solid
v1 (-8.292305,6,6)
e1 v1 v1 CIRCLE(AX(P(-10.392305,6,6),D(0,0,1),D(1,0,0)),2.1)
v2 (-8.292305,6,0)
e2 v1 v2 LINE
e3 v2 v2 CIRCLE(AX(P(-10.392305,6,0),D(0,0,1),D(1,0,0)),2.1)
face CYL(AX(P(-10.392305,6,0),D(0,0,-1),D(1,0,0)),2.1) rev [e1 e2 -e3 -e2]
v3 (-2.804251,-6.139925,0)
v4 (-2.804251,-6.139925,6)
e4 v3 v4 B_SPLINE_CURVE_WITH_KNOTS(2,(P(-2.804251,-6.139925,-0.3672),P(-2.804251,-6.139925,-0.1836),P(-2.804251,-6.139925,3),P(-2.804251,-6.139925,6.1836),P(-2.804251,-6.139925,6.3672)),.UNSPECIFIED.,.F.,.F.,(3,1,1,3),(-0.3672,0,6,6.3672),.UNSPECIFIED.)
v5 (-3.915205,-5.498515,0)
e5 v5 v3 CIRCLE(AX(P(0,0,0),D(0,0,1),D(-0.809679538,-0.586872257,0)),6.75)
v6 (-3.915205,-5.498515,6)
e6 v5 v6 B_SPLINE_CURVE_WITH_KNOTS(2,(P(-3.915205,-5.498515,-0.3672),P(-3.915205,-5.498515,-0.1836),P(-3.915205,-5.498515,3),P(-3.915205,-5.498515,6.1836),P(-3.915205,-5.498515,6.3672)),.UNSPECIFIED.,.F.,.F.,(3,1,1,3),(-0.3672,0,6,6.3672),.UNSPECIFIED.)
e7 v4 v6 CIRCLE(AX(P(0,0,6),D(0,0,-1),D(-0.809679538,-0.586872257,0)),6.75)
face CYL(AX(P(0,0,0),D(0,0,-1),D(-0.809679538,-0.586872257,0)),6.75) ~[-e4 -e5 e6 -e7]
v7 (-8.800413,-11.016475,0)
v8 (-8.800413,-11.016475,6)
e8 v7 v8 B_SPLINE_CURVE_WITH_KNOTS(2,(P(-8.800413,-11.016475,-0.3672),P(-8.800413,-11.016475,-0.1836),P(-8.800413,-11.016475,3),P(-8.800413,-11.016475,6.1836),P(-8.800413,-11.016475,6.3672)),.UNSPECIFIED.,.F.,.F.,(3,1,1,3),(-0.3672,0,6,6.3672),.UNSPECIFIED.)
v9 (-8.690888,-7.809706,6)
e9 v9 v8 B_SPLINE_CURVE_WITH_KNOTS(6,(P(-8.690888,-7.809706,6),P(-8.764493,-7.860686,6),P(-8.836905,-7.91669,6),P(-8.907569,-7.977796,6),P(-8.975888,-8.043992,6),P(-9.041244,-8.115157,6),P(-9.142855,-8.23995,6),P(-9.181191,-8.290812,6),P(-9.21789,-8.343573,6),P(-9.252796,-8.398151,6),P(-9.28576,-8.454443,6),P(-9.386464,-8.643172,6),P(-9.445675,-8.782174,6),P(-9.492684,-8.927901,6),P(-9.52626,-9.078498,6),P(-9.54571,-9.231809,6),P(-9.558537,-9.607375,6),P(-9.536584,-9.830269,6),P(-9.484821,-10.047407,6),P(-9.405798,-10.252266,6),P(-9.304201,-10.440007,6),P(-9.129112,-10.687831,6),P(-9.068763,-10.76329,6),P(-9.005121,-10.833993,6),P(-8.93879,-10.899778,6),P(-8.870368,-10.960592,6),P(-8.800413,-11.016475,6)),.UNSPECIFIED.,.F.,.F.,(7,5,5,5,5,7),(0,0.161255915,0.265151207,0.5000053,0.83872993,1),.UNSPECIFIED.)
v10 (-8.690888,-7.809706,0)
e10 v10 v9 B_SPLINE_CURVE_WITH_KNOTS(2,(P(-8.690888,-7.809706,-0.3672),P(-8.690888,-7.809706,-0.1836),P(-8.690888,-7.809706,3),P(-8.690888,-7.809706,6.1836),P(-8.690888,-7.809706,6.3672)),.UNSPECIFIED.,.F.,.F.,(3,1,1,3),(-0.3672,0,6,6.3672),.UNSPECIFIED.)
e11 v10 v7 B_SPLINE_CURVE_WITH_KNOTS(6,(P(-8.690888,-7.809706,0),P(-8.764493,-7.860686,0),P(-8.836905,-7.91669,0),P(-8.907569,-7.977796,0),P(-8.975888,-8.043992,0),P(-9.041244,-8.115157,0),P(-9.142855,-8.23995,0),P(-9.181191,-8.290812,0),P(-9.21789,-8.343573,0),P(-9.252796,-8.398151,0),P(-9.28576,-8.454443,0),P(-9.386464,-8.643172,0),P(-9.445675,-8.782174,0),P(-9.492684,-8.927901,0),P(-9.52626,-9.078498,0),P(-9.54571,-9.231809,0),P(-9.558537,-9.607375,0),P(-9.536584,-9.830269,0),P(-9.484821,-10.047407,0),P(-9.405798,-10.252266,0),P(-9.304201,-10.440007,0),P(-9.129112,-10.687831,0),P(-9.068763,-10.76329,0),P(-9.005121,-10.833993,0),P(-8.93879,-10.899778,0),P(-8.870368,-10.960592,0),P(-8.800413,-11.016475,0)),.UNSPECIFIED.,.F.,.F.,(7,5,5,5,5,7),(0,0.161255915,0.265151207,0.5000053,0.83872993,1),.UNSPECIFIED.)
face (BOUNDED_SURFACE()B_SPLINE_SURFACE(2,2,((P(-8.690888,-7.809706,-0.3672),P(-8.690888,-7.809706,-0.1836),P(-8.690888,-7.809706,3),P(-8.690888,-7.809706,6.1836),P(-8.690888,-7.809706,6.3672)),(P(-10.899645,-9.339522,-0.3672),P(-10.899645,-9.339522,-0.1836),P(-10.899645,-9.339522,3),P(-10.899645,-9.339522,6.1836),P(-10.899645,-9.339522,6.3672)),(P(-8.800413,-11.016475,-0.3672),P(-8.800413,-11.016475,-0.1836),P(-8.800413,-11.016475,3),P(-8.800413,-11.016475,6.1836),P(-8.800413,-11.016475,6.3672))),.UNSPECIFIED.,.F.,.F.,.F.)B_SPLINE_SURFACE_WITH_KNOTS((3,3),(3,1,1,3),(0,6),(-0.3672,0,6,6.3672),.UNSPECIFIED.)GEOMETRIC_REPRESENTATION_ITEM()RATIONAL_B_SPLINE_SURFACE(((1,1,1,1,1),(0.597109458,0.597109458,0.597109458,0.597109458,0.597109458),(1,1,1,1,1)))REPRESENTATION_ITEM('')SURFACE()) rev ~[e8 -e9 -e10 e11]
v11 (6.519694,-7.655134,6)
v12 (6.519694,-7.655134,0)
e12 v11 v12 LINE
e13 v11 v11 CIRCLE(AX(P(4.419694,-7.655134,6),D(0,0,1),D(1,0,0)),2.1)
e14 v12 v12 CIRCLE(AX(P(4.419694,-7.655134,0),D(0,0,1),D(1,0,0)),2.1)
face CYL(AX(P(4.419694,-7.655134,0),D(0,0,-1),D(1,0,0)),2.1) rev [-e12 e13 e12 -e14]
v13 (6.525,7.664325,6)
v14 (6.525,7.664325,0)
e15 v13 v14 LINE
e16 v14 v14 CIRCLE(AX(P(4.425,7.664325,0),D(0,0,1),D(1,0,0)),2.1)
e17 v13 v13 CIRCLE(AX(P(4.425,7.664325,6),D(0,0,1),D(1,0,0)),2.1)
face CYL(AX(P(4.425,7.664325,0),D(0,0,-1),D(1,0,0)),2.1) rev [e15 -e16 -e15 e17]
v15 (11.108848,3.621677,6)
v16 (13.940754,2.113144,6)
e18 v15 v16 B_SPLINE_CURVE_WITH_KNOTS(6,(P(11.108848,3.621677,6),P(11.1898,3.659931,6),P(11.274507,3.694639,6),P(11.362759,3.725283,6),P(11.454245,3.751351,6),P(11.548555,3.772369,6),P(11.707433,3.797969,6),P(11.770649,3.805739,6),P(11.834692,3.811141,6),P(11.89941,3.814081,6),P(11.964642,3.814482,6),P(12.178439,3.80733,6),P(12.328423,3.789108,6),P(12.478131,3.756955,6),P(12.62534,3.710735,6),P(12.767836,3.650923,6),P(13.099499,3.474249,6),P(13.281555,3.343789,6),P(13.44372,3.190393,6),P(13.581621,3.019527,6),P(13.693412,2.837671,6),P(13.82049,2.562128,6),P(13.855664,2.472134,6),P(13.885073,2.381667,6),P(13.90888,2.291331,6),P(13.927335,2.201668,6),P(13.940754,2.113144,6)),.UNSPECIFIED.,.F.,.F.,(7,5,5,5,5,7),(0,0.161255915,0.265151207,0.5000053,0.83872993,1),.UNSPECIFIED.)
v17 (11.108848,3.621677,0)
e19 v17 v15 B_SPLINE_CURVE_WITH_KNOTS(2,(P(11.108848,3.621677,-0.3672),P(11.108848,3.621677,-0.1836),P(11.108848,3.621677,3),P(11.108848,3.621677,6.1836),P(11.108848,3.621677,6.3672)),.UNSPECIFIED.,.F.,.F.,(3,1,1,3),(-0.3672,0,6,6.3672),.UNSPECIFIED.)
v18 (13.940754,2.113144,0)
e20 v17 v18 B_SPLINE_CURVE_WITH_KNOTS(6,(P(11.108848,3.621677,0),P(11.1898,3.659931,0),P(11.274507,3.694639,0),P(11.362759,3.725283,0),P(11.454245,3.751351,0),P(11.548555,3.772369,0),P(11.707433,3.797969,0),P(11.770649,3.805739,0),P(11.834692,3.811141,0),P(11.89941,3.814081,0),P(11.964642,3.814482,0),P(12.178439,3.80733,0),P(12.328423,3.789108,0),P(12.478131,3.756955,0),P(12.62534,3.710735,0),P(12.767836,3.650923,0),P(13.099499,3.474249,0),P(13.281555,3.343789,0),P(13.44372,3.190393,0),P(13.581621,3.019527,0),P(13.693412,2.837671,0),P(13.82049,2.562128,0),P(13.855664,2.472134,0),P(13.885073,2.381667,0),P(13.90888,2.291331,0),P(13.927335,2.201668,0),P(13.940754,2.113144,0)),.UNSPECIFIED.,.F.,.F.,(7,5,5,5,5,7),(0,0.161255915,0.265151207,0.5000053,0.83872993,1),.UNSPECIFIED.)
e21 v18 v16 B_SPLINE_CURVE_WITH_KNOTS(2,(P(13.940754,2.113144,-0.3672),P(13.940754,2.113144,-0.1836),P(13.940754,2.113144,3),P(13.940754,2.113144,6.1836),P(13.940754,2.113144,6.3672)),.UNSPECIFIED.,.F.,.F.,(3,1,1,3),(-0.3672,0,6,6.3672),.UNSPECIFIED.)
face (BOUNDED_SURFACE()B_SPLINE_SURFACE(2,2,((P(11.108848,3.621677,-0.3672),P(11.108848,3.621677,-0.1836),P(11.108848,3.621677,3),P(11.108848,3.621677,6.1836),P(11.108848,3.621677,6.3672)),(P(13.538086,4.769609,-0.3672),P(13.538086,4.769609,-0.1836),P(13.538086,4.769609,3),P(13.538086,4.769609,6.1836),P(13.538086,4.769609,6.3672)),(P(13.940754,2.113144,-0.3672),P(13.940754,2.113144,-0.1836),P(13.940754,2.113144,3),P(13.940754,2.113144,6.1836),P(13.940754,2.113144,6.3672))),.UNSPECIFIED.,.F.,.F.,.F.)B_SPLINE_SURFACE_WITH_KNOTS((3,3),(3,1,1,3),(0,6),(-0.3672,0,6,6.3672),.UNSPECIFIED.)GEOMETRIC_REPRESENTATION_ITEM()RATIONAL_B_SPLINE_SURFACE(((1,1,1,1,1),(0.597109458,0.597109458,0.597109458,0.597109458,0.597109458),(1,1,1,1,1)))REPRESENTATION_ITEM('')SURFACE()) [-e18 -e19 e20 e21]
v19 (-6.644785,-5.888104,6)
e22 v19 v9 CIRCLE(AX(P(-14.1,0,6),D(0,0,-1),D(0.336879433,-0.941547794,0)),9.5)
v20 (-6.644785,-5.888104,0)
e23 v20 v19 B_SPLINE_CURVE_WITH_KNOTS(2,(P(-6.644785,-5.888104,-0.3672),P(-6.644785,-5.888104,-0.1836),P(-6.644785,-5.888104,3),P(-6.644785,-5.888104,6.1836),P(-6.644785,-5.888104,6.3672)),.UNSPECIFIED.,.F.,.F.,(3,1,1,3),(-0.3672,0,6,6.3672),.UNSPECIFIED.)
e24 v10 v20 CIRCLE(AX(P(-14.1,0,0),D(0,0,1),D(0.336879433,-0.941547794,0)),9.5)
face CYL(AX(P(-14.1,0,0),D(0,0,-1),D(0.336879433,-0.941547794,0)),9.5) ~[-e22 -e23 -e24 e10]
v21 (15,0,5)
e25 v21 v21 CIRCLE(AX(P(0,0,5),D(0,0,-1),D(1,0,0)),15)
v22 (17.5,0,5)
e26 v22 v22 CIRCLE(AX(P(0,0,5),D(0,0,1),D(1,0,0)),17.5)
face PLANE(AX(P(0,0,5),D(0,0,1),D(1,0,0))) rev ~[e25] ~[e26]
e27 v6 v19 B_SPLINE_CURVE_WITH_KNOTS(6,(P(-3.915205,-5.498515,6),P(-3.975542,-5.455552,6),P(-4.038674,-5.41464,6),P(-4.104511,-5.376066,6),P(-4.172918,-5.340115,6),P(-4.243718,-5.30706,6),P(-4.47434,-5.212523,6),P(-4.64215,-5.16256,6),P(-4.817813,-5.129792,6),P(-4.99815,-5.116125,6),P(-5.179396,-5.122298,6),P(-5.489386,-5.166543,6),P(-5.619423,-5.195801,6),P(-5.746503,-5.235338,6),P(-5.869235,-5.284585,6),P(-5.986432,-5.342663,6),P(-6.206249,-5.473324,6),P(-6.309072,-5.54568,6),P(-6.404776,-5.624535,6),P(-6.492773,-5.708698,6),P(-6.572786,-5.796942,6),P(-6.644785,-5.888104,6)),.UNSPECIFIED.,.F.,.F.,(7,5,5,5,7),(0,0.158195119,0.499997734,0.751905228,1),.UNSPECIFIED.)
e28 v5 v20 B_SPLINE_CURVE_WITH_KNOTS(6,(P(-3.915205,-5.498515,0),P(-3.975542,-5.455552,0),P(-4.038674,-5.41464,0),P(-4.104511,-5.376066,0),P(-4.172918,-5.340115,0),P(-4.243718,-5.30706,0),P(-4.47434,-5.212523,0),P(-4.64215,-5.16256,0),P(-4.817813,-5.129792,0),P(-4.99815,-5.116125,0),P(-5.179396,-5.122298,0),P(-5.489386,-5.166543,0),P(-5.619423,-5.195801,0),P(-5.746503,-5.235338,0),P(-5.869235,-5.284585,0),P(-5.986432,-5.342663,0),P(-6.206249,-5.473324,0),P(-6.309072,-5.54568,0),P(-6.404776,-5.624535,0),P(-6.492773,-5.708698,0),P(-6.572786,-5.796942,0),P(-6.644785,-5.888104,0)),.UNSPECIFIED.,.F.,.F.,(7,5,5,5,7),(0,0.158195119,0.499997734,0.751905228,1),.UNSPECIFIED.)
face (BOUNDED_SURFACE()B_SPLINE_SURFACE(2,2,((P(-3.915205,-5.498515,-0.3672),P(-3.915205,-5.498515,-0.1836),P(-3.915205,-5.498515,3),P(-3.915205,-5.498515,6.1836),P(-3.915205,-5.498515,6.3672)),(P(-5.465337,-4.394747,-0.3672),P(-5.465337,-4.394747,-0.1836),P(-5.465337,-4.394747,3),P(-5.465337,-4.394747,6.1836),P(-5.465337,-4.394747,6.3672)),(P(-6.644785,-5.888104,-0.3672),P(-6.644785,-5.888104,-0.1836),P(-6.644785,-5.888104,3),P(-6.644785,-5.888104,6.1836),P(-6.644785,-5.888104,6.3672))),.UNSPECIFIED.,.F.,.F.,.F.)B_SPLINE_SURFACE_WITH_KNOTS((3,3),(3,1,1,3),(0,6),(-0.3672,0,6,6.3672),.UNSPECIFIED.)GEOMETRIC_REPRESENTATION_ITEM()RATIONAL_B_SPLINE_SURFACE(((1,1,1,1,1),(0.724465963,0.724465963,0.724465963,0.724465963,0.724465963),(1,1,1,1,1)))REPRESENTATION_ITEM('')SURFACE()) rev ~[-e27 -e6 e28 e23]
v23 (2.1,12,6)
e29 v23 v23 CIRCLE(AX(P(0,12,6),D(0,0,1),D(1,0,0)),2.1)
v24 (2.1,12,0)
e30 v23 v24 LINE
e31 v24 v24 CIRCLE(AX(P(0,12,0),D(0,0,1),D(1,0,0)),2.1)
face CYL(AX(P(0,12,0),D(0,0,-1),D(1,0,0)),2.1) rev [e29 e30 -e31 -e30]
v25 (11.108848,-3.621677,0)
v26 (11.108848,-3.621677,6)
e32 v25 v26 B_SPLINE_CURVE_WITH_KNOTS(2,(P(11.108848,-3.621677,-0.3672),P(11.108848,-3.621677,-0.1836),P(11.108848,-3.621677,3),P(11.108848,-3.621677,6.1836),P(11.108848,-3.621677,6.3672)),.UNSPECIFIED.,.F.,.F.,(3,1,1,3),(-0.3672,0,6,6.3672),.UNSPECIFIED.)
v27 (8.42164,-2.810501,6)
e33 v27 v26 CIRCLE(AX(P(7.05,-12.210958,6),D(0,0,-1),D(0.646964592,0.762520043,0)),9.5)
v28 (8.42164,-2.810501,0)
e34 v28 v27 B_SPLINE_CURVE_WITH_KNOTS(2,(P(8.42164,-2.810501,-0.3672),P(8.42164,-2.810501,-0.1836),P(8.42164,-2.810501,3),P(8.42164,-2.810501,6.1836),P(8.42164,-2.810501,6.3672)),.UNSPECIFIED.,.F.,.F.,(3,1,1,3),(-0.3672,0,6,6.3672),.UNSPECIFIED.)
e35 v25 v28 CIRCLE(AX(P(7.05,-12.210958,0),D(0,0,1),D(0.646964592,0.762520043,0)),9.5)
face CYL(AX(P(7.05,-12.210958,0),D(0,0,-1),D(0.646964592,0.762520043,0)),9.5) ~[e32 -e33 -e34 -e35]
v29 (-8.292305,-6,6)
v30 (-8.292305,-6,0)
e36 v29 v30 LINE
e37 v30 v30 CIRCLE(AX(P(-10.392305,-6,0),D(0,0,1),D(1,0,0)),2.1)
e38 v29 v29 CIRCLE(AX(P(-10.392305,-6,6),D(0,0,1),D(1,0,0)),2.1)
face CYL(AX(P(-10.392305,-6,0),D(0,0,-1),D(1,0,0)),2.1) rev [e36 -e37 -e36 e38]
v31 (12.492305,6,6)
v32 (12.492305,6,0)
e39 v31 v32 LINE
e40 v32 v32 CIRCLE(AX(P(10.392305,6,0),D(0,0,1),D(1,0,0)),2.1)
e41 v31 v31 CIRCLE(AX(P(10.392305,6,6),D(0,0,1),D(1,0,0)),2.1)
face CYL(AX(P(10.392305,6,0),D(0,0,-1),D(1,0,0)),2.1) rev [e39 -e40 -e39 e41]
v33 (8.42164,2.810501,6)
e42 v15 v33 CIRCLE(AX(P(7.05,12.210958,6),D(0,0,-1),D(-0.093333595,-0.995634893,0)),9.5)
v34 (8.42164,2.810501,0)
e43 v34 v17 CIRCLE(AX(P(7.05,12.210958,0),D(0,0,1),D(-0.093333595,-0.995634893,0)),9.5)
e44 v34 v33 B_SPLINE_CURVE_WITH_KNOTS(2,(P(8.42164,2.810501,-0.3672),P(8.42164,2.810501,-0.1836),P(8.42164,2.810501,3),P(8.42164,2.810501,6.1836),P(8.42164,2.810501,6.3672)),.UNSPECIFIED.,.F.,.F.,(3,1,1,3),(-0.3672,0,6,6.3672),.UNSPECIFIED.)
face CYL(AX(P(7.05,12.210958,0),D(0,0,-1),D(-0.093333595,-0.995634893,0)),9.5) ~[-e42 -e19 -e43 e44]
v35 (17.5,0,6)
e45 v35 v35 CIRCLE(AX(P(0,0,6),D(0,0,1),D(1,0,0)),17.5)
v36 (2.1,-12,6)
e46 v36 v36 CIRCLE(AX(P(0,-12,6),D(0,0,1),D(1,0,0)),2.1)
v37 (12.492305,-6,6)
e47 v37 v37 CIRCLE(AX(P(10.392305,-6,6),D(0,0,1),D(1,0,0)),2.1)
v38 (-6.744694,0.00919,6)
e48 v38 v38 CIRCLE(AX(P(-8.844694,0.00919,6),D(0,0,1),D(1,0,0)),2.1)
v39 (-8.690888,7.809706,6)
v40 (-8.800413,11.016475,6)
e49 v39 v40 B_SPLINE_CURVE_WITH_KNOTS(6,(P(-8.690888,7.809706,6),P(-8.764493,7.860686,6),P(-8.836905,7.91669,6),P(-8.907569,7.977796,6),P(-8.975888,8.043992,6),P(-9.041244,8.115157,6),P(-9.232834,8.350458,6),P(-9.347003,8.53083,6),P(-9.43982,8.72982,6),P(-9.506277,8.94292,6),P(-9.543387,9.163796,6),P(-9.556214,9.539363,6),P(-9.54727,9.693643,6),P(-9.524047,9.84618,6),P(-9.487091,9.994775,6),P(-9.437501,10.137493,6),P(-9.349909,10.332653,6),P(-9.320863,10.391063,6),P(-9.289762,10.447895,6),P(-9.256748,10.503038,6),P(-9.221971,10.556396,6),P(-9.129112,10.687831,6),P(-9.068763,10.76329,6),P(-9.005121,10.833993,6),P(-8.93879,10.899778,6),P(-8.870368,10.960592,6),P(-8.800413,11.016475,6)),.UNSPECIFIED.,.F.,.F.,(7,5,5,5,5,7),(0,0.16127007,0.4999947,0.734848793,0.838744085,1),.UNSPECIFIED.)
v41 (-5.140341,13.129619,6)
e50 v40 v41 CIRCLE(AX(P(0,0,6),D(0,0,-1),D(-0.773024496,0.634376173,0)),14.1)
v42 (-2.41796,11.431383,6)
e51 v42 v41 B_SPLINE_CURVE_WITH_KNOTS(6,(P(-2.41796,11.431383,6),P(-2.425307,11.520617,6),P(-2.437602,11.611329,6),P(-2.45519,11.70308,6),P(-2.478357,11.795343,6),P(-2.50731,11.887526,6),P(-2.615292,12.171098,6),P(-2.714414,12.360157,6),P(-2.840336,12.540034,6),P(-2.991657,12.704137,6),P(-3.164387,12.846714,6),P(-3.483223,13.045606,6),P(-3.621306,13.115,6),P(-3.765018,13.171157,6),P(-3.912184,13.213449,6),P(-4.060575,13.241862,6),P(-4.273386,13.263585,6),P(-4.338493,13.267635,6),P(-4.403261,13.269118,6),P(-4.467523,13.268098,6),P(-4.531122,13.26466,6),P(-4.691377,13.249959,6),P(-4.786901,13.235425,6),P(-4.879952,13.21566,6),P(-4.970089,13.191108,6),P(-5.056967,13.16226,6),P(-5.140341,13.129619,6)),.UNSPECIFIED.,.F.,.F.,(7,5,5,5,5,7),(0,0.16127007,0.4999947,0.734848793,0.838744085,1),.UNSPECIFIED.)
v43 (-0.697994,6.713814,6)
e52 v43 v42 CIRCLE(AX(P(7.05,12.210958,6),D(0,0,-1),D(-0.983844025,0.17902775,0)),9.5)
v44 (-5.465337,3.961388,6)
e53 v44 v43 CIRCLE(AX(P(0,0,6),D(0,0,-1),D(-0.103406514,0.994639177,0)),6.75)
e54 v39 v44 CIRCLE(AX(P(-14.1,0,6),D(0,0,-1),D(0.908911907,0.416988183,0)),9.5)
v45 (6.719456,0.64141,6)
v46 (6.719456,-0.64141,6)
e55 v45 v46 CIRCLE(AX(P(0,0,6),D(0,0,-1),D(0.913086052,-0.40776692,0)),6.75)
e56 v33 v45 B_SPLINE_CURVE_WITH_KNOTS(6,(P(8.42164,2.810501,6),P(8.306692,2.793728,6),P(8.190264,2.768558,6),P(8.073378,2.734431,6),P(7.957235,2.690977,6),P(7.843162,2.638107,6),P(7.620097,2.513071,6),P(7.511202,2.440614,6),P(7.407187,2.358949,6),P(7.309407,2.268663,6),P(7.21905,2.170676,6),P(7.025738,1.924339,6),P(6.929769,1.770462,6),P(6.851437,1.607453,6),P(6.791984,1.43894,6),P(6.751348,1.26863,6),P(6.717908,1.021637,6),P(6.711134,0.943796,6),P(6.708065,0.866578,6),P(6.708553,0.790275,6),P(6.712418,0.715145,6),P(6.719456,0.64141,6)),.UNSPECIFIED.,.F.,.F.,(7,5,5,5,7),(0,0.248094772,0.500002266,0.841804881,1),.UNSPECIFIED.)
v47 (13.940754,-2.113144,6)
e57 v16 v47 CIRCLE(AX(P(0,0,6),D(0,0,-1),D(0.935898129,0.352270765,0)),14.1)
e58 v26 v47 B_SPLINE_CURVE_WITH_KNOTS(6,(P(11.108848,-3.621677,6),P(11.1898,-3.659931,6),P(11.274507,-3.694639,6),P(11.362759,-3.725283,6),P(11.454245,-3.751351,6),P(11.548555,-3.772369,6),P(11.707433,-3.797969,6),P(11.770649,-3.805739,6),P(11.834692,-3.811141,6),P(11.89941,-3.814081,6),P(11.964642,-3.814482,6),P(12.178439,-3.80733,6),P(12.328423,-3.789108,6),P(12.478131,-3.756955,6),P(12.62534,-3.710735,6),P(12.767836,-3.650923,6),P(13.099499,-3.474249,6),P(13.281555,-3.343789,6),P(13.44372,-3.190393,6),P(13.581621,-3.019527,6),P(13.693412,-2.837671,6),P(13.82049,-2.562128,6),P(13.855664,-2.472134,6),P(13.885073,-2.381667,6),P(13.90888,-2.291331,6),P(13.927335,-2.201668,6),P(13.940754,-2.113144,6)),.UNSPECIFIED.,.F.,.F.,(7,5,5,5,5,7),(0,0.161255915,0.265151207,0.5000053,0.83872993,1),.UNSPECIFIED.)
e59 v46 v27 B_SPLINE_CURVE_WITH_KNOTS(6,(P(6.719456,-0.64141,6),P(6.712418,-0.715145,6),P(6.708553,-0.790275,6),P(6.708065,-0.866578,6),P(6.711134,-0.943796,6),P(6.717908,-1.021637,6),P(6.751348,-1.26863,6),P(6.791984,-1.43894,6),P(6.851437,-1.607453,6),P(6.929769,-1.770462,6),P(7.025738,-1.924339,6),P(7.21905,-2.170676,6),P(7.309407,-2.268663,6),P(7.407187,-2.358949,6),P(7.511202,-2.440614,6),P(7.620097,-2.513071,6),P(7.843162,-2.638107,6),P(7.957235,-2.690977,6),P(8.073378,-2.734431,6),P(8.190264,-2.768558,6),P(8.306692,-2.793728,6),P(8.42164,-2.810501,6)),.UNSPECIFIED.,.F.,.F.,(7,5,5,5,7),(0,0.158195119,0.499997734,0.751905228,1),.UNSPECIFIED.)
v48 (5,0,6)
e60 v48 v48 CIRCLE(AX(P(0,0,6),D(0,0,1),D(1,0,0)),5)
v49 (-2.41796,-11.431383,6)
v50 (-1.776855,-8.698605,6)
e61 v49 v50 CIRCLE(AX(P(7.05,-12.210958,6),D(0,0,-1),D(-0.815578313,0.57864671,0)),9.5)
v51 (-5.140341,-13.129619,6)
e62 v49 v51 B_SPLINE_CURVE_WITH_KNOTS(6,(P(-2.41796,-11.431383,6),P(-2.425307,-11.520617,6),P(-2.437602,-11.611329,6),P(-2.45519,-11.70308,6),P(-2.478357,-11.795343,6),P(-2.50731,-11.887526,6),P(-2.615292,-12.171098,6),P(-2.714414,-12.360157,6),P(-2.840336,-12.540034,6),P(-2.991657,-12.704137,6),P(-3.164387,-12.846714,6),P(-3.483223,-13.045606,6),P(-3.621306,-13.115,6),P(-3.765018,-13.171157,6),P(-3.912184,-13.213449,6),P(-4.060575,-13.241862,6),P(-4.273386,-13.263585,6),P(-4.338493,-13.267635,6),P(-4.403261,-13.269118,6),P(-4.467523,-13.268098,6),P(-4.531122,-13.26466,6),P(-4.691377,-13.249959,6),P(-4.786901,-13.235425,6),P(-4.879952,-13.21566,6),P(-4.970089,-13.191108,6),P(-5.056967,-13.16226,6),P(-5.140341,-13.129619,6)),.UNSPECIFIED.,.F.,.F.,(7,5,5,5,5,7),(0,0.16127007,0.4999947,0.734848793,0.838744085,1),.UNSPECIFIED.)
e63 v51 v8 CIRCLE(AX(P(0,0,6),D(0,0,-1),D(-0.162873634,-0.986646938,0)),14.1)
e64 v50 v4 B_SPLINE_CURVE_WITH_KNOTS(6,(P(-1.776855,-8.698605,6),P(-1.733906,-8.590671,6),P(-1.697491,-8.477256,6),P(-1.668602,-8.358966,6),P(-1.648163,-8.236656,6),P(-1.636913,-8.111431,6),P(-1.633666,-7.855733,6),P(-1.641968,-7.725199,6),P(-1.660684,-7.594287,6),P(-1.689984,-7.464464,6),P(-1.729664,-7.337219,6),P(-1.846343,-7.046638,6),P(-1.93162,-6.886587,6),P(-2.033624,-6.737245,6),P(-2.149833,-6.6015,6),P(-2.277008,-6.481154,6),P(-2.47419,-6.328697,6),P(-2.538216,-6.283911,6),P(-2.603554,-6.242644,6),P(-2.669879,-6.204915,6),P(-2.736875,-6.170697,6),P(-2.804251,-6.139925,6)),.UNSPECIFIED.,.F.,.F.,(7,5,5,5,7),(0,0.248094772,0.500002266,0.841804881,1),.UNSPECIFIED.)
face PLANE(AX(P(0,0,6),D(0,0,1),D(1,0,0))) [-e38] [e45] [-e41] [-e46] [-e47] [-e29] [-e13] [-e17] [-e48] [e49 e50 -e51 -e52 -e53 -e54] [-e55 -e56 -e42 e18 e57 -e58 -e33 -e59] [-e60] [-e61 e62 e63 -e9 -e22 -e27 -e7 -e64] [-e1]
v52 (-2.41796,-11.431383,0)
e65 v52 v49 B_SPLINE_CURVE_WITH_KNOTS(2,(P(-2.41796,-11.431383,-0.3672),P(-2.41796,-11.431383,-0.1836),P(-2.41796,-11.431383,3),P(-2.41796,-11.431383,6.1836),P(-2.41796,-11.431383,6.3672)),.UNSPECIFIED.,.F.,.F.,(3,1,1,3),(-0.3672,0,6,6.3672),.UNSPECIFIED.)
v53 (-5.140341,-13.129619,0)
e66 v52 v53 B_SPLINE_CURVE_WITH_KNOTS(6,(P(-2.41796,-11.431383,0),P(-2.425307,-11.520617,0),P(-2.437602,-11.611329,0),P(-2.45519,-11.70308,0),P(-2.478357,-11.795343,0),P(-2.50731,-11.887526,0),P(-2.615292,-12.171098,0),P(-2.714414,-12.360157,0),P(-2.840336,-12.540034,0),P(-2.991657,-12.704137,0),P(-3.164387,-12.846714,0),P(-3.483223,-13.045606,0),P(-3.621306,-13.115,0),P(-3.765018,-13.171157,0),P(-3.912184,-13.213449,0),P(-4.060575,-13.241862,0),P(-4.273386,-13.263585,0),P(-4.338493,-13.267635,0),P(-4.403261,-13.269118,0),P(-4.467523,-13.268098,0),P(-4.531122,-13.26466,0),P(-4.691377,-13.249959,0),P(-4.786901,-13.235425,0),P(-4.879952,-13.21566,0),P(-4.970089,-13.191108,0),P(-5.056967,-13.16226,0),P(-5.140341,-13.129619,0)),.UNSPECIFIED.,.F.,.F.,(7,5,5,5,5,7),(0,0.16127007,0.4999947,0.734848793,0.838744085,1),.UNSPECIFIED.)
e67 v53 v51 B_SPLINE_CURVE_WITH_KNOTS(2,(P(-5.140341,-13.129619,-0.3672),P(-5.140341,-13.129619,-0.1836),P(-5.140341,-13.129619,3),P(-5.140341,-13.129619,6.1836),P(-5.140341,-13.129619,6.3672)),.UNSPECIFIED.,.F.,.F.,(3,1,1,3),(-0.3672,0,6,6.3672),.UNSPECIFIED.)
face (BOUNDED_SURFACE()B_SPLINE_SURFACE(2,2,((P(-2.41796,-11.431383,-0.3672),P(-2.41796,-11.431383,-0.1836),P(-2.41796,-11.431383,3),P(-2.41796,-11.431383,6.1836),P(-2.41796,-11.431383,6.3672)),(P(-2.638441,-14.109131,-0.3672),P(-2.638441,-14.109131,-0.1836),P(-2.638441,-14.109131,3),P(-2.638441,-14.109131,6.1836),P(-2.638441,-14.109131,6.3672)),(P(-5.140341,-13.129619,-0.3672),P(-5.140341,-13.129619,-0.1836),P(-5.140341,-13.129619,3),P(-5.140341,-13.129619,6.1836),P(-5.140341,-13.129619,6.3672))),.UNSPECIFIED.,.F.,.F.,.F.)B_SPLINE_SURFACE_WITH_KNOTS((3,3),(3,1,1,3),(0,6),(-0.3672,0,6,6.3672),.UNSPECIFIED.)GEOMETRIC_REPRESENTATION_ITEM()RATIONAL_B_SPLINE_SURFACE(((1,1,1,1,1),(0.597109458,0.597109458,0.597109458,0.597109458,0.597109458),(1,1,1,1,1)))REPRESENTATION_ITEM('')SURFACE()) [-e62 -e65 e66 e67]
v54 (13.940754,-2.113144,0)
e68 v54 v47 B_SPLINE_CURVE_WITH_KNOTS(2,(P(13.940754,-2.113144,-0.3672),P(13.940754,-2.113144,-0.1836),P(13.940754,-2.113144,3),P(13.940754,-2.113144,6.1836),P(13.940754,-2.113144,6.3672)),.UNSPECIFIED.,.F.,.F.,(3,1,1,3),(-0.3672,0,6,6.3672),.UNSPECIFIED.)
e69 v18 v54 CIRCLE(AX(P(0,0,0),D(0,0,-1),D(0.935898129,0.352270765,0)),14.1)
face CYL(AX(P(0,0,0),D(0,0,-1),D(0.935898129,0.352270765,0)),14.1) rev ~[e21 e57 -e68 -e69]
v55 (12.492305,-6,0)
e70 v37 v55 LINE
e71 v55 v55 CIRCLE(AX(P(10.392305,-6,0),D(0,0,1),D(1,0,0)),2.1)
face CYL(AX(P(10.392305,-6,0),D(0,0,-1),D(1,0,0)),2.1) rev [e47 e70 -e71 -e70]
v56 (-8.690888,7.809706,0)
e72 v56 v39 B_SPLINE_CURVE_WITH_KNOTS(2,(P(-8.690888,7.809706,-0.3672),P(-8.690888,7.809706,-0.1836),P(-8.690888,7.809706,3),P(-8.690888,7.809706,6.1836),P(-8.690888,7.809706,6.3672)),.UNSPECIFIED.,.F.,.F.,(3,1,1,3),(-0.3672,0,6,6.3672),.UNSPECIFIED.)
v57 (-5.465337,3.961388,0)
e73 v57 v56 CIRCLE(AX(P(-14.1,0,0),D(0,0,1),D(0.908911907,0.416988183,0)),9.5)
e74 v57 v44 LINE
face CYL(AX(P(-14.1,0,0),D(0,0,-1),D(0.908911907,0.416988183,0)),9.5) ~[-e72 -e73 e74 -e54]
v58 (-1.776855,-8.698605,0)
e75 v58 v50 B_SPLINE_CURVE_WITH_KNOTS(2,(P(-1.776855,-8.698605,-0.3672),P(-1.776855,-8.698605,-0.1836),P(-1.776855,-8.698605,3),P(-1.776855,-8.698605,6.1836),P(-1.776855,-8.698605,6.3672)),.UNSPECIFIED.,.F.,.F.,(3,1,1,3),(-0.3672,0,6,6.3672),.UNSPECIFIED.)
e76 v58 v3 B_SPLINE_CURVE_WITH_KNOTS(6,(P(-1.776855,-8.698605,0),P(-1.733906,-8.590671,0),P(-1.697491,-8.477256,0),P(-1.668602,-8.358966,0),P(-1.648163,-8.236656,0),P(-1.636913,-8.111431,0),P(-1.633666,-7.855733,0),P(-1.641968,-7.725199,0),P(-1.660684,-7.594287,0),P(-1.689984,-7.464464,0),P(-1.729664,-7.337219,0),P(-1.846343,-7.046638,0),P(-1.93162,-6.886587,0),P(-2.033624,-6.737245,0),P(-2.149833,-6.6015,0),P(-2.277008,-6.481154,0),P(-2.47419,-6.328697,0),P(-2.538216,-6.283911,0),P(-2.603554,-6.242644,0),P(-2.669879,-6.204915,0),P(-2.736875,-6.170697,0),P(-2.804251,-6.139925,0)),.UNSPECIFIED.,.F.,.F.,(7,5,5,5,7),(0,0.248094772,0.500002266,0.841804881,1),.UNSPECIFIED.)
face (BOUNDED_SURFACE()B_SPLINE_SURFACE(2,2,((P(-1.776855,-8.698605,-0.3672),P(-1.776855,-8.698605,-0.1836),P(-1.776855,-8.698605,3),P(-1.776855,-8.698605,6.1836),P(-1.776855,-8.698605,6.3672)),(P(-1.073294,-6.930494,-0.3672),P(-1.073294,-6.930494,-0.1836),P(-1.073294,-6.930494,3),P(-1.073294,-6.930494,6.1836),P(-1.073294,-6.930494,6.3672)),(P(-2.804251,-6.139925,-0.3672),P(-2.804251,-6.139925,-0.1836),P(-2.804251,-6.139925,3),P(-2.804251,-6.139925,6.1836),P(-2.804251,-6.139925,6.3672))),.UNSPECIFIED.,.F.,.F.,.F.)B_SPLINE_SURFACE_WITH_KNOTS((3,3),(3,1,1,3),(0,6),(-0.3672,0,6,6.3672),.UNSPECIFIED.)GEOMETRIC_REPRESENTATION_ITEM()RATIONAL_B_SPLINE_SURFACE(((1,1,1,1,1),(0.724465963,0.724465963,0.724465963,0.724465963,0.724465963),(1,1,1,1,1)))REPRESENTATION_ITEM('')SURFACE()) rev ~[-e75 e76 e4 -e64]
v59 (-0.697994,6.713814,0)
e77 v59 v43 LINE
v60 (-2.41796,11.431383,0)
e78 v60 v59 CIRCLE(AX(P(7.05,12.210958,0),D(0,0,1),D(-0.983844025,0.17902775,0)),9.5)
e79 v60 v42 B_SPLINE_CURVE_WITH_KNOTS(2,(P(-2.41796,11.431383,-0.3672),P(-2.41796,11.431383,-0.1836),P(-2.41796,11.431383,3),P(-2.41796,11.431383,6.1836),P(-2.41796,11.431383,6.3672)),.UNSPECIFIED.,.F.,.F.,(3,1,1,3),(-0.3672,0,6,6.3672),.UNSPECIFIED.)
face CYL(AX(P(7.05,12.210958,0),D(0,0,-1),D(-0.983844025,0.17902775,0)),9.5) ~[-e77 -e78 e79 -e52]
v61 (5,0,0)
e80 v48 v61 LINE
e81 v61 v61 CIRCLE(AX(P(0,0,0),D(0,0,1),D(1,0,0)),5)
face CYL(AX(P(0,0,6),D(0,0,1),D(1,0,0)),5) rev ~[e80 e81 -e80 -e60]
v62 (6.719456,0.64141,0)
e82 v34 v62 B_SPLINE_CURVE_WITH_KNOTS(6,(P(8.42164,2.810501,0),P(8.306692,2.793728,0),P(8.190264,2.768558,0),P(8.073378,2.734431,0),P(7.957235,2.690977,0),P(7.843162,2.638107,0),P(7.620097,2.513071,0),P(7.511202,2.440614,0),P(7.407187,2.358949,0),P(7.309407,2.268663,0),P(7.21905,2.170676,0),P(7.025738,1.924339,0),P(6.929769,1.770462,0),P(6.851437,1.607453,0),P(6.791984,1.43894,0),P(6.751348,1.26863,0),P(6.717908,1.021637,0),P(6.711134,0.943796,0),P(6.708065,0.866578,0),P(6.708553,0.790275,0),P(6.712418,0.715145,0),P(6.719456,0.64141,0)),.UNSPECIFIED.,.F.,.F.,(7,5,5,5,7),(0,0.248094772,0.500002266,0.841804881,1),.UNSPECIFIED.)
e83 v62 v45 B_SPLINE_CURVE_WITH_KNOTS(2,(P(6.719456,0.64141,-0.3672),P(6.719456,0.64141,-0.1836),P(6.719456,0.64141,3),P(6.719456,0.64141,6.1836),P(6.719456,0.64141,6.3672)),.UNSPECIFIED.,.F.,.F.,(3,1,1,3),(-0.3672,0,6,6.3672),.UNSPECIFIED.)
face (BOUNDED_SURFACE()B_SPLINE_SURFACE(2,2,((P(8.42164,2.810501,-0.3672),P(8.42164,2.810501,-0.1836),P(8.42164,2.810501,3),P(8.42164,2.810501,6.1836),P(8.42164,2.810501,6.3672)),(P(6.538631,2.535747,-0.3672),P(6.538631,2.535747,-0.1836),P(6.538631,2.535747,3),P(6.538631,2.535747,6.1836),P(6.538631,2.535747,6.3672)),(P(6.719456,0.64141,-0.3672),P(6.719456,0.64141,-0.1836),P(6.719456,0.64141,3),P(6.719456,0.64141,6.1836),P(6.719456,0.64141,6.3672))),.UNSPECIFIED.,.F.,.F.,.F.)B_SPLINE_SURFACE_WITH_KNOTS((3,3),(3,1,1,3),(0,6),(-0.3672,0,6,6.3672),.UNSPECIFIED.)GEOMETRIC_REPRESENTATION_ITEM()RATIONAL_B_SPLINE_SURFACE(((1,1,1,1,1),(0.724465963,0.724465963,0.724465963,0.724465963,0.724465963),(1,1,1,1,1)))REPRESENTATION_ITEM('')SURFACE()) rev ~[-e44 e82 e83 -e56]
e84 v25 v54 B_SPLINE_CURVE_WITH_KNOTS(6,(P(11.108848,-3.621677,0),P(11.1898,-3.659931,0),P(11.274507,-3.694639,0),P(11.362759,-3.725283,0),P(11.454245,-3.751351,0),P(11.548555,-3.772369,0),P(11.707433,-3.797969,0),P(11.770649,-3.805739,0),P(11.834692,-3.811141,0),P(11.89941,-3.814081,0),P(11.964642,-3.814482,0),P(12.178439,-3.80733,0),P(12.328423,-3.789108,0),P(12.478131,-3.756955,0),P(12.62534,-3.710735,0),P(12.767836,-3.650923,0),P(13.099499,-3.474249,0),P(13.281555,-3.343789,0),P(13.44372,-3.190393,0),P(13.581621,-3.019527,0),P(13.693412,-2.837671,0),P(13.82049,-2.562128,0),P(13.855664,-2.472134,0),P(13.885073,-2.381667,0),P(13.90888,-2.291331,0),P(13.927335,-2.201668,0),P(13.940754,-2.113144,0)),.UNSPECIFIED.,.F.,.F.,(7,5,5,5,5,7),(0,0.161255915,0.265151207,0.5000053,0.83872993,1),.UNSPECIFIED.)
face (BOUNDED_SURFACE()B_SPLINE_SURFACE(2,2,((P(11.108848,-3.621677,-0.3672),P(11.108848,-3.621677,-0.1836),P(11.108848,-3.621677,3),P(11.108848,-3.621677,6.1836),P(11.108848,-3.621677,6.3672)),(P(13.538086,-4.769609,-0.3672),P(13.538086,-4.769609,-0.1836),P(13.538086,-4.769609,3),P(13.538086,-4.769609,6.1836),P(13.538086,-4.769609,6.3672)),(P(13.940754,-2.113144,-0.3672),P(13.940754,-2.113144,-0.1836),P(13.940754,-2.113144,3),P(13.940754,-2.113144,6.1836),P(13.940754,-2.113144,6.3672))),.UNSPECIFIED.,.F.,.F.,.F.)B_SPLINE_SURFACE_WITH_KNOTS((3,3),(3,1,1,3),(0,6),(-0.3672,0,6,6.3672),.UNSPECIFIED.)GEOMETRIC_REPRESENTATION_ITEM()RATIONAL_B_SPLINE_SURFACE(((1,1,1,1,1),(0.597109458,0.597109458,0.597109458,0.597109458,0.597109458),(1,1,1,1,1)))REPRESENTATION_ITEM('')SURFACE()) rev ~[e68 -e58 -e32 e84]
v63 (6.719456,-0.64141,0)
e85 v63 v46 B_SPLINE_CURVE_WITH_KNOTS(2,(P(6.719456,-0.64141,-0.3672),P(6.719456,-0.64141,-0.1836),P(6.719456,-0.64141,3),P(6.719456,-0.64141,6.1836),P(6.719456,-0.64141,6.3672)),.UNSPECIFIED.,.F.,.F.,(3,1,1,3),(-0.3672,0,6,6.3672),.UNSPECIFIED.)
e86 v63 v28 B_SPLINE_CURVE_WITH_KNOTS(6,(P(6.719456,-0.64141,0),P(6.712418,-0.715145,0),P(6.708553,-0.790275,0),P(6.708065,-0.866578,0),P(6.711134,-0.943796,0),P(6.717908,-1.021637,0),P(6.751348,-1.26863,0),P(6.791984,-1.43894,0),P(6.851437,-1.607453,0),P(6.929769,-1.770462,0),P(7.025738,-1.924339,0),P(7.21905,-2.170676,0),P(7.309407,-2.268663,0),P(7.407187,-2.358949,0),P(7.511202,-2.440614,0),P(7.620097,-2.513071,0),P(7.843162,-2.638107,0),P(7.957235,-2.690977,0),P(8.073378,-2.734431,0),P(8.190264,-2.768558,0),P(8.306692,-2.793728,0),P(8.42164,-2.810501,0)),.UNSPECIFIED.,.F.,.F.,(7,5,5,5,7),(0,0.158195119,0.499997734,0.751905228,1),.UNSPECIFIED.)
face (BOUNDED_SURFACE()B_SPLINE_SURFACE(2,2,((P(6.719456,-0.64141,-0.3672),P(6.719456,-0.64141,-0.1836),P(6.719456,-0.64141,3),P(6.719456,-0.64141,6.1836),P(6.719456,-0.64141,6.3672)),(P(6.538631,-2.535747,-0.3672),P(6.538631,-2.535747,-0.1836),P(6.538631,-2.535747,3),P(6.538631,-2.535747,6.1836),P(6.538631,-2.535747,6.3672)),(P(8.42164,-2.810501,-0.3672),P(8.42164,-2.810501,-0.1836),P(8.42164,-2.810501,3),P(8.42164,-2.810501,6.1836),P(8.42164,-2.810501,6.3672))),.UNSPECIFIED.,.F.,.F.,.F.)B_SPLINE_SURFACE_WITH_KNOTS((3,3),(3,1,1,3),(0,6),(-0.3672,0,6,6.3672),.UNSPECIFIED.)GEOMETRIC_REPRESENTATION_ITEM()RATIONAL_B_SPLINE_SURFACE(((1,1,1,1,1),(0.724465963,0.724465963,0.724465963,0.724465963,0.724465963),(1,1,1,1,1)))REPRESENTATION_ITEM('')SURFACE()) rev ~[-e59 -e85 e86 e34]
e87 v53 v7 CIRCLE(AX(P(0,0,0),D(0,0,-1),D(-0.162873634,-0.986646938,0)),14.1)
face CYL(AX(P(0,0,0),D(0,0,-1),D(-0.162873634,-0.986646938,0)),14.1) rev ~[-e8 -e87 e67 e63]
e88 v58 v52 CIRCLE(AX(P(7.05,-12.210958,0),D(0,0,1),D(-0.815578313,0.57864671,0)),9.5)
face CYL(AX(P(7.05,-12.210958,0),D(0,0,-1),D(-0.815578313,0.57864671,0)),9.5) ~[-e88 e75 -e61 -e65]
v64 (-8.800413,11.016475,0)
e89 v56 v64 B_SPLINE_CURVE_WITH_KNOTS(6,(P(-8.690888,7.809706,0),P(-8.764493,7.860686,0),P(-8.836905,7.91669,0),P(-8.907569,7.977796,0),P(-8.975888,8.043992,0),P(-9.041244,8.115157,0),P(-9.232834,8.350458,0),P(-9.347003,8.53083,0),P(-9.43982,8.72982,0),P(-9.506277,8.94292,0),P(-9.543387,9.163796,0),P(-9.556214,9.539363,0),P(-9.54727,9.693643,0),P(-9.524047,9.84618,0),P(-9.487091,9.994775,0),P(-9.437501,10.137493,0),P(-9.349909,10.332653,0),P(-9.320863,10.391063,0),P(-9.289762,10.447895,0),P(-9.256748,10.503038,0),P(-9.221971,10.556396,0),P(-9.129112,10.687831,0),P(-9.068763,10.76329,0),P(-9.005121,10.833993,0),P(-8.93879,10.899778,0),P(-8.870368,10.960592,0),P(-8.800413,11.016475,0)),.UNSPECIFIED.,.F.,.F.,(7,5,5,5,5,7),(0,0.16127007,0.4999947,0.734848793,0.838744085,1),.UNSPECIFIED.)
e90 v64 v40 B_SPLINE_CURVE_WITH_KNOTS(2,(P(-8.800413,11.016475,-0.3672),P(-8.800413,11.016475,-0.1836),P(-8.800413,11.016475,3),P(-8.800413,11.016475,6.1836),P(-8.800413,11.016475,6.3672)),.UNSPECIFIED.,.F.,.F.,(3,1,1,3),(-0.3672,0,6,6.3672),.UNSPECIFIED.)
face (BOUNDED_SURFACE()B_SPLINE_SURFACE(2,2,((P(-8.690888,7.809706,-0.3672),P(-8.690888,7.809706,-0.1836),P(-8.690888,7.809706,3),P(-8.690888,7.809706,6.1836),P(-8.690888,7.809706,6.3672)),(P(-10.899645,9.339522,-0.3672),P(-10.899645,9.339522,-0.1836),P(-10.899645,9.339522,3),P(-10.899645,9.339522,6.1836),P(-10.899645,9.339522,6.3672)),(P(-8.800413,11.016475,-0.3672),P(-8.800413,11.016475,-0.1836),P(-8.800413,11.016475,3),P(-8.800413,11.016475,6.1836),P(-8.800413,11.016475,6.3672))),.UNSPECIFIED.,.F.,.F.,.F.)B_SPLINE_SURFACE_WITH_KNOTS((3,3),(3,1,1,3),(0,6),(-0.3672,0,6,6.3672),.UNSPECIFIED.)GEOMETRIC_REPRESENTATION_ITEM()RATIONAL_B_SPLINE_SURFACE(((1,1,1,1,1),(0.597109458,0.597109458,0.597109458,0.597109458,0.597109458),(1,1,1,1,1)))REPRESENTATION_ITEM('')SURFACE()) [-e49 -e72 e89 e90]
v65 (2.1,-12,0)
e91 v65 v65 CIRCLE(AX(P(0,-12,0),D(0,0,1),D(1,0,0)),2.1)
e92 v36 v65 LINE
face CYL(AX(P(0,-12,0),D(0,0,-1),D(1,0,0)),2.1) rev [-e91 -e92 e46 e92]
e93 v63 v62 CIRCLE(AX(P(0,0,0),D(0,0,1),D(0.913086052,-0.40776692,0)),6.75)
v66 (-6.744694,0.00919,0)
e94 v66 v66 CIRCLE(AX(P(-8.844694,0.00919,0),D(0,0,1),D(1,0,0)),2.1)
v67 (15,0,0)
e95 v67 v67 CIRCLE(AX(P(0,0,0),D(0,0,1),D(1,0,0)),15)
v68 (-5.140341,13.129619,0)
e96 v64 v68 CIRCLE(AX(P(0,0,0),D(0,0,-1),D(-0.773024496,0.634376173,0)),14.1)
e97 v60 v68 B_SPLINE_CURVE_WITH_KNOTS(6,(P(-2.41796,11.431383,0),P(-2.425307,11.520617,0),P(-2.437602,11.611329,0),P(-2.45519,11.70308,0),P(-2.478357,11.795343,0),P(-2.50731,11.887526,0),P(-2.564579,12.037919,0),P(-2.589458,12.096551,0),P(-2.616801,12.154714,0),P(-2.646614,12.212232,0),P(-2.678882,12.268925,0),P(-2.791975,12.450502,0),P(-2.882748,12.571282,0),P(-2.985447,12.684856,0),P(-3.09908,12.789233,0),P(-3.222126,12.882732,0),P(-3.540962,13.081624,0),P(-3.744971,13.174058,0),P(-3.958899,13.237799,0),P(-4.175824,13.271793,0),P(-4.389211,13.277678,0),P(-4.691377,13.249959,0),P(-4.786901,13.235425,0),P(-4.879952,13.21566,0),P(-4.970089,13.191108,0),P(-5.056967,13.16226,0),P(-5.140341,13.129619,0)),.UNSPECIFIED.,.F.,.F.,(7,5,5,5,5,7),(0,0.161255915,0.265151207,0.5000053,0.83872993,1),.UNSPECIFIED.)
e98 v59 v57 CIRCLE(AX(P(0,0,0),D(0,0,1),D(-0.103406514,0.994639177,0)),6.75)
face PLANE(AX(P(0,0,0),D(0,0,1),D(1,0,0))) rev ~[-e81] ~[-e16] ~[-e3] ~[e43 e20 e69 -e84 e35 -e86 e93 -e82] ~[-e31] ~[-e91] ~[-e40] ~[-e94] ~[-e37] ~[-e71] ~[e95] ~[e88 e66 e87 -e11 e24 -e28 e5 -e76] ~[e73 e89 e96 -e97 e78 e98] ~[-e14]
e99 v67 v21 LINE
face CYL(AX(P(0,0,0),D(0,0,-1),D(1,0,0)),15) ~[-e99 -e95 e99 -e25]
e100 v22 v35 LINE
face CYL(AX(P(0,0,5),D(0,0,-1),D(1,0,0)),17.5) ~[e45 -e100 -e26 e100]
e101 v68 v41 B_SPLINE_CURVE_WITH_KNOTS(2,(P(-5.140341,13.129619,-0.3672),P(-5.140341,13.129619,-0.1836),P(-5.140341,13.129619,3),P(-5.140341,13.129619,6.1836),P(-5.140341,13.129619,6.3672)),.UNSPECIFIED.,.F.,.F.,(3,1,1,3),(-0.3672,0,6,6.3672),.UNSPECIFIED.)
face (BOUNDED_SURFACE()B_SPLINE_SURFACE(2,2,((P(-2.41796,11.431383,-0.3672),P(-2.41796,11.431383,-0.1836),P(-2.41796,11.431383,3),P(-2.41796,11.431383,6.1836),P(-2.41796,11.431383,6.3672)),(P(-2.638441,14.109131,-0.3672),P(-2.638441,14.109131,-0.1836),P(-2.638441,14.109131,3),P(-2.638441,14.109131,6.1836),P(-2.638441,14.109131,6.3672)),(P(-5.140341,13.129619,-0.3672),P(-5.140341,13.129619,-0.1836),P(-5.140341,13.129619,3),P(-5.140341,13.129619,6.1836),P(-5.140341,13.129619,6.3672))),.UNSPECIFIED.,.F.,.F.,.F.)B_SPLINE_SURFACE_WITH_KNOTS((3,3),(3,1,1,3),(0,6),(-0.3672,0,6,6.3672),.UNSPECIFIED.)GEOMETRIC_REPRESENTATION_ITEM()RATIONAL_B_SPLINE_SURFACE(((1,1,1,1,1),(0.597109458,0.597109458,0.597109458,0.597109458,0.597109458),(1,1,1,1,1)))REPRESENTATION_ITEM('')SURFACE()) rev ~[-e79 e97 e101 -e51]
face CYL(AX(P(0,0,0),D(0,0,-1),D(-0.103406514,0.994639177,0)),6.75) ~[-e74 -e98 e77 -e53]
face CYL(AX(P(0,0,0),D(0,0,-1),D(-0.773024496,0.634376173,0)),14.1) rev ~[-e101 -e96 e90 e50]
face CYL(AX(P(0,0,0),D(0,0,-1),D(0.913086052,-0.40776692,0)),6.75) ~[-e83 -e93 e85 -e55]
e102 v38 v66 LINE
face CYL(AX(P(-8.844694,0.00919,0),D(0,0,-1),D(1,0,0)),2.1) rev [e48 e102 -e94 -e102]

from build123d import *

# Parameters (mm, degrees)
SKETCH_1_R          = 15
SKETCH_1_R_2        = 2.1
EXTRUDE_1_DEPTH     = 6
EXTRUDE_START       = -1
SKETCH_2_R          = 17.5
SKETCH_2_R_2        = 2.1
EXTRUDE_2_DEPTH     = 1
SKETCH_3_R          = 5
CUT_EXTRUDE_1_DEPTH = 10
CUT_EXTRUDE_3_DEPTH = 10
FILLET_1_R          = 2


with BuildPart() as part:
    # 草图1 → 凸台-拉伸1 (new body)
    with BuildSketch(Plane.XY):
        Circle(SKETCH_1_R)
        with Locations((0, 12)):
            Circle(SKETCH_1_R_2, mode=Mode.SUBTRACT)
        with Locations((10.392304845, 6)):
            Circle(SKETCH_1_R_2, mode=Mode.SUBTRACT)
        with Locations((10.392304845, -6)):
            Circle(SKETCH_1_R_2, mode=Mode.SUBTRACT)
        with Locations((0, -12)):
            Circle(SKETCH_1_R_2, mode=Mode.SUBTRACT)
        with Locations((-10.392304845, -6)):
            Circle(SKETCH_1_R_2, mode=Mode.SUBTRACT)
        with Locations((-10.392304845, 6)):
            Circle(SKETCH_1_R_2, mode=Mode.SUBTRACT)
        with Locations((4.425, 7.664324823)):
            Circle(SKETCH_1_R_2, mode=Mode.SUBTRACT)
        with Locations((4.419693866, -7.655134331)):
            Circle(SKETCH_1_R_2, mode=Mode.SUBTRACT)
        with Locations((-8.844693866, 0.009190493)):
            Circle(SKETCH_1_R_2, mode=Mode.SUBTRACT)
    extrude(amount=EXTRUDE_1_DEPTH)

    # 草图2 → 凸台-拉伸2 (add)
    with BuildSketch(Plane.XY.offset(6).offset(EXTRUDE_START)):
        Circle(SKETCH_2_R)
        with Locations((-8.844693866, 0.009190493)):
            Circle(SKETCH_2_R_2, mode=Mode.SUBTRACT)
        with Locations((-10.392304845, -6)):
            Circle(SKETCH_2_R_2, mode=Mode.SUBTRACT)
        with Locations((0, -12)):
            Circle(SKETCH_2_R_2, mode=Mode.SUBTRACT)
        with Locations((4.419693866, -7.655134331)):
            Circle(SKETCH_2_R_2, mode=Mode.SUBTRACT)
        with Locations((10.392304845, -6)):
            Circle(SKETCH_2_R_2, mode=Mode.SUBTRACT)
        with Locations((10.392304845, 6)):
            Circle(SKETCH_2_R_2, mode=Mode.SUBTRACT)
        with Locations((4.425, 7.664324823)):
            Circle(SKETCH_2_R_2, mode=Mode.SUBTRACT)
        with Locations((0, 12)):
            Circle(SKETCH_2_R_2, mode=Mode.SUBTRACT)
        with Locations((-10.392304845, 6)):
            Circle(SKETCH_2_R_2, mode=Mode.SUBTRACT)
    extrude(amount=EXTRUDE_2_DEPTH)

    # 草图3 → 切除-拉伸1 (cut)
    with BuildSketch(Plane.XY.offset(6)):
        Circle(SKETCH_3_R)
    extrude(amount=-CUT_EXTRUDE_1_DEPTH, mode=Mode.SUBTRACT)

    # 草图4 → 切除-拉伸3 (cut)
    with BuildSketch(Plane(origin=(0, 0, 0), x_dir=(-1, 0, 0), z_dir=(0, 0, -1))):
        with BuildLine():
            ThreePointArc((5.465336879, 3.961387736), (7.679309109, 7.001766097), (10.89964539, 8.94470404))
            ThreePointArc((10.89964539, 8.94470404), (7.05, 12.210958193), (2.296518233, 13.91172182))
            ThreePointArc((2.296518233, 13.91172182), (2.224052757, 10.151359821), (0.697993974, 6.713814446))
            ThreePointArc((0.697993974, 6.713814446), (3.375, 5.845671476), (5.465336879, 3.961387736))
        make_face()
        with BuildLine():
            ThreePointArc((2.296518233, -13.91172182), (7.05, -12.210958193), (10.89964539, -8.94470404))
            ThreePointArc((10.89964539, -8.94470404), (7.679309109, -7.001766097), (5.465336879, -3.961387736))
            ThreePointArc((5.465336879, -3.961387736), (3.375, -5.845671476), (0.697993974, -6.713814446))
            ThreePointArc((0.697993974, -6.713814446), (2.224052757, -10.151359821), (2.296518233, -13.91172182))
        make_face()
        with BuildLine():
            ThreePointArc((-6.163330853, 2.75242671), (-9.903361866, 3.149593723), (-13.196163623, 4.96701778))
            ThreePointArc((-13.196163623, 4.96701778), (-14.1, 0), (-13.196163623, -4.96701778))
            ThreePointArc((-13.196163623, -4.96701778), (-9.903361866, -3.149593723), (-6.163330853, -2.75242671))
            ThreePointArc((-6.163330853, -2.75242671), (-6.75, 0), (-6.163330853, 2.75242671))
        make_face()
    extrude(amount=-CUT_EXTRUDE_3_DEPTH, mode=Mode.SUBTRACT)

    # 圆角1
    fillet_1_edges = [part.edges().sort_by_distance(p)[0] for p in [
        (-10.89964539, 8.94470404, 3),
        (-2.296518233, 13.91172182, 3),
        (-2.296518233, -13.91172182, 3),
        (-0.697993974, -6.713814446, 3),
        (-5.465336879, -3.961387736, 3),
        (-10.89964539, -8.94470404, 3),
        (6.163330853, -2.75242671, 3),
        (13.196163623, -4.96701778, 3),
        (13.196163623, 4.96701778, 3),
        (6.163330853, 2.75242671, 3),
    ]]
    fillet(fillet_1_edges, radius=FILLET_1_R)


solid = part.part
